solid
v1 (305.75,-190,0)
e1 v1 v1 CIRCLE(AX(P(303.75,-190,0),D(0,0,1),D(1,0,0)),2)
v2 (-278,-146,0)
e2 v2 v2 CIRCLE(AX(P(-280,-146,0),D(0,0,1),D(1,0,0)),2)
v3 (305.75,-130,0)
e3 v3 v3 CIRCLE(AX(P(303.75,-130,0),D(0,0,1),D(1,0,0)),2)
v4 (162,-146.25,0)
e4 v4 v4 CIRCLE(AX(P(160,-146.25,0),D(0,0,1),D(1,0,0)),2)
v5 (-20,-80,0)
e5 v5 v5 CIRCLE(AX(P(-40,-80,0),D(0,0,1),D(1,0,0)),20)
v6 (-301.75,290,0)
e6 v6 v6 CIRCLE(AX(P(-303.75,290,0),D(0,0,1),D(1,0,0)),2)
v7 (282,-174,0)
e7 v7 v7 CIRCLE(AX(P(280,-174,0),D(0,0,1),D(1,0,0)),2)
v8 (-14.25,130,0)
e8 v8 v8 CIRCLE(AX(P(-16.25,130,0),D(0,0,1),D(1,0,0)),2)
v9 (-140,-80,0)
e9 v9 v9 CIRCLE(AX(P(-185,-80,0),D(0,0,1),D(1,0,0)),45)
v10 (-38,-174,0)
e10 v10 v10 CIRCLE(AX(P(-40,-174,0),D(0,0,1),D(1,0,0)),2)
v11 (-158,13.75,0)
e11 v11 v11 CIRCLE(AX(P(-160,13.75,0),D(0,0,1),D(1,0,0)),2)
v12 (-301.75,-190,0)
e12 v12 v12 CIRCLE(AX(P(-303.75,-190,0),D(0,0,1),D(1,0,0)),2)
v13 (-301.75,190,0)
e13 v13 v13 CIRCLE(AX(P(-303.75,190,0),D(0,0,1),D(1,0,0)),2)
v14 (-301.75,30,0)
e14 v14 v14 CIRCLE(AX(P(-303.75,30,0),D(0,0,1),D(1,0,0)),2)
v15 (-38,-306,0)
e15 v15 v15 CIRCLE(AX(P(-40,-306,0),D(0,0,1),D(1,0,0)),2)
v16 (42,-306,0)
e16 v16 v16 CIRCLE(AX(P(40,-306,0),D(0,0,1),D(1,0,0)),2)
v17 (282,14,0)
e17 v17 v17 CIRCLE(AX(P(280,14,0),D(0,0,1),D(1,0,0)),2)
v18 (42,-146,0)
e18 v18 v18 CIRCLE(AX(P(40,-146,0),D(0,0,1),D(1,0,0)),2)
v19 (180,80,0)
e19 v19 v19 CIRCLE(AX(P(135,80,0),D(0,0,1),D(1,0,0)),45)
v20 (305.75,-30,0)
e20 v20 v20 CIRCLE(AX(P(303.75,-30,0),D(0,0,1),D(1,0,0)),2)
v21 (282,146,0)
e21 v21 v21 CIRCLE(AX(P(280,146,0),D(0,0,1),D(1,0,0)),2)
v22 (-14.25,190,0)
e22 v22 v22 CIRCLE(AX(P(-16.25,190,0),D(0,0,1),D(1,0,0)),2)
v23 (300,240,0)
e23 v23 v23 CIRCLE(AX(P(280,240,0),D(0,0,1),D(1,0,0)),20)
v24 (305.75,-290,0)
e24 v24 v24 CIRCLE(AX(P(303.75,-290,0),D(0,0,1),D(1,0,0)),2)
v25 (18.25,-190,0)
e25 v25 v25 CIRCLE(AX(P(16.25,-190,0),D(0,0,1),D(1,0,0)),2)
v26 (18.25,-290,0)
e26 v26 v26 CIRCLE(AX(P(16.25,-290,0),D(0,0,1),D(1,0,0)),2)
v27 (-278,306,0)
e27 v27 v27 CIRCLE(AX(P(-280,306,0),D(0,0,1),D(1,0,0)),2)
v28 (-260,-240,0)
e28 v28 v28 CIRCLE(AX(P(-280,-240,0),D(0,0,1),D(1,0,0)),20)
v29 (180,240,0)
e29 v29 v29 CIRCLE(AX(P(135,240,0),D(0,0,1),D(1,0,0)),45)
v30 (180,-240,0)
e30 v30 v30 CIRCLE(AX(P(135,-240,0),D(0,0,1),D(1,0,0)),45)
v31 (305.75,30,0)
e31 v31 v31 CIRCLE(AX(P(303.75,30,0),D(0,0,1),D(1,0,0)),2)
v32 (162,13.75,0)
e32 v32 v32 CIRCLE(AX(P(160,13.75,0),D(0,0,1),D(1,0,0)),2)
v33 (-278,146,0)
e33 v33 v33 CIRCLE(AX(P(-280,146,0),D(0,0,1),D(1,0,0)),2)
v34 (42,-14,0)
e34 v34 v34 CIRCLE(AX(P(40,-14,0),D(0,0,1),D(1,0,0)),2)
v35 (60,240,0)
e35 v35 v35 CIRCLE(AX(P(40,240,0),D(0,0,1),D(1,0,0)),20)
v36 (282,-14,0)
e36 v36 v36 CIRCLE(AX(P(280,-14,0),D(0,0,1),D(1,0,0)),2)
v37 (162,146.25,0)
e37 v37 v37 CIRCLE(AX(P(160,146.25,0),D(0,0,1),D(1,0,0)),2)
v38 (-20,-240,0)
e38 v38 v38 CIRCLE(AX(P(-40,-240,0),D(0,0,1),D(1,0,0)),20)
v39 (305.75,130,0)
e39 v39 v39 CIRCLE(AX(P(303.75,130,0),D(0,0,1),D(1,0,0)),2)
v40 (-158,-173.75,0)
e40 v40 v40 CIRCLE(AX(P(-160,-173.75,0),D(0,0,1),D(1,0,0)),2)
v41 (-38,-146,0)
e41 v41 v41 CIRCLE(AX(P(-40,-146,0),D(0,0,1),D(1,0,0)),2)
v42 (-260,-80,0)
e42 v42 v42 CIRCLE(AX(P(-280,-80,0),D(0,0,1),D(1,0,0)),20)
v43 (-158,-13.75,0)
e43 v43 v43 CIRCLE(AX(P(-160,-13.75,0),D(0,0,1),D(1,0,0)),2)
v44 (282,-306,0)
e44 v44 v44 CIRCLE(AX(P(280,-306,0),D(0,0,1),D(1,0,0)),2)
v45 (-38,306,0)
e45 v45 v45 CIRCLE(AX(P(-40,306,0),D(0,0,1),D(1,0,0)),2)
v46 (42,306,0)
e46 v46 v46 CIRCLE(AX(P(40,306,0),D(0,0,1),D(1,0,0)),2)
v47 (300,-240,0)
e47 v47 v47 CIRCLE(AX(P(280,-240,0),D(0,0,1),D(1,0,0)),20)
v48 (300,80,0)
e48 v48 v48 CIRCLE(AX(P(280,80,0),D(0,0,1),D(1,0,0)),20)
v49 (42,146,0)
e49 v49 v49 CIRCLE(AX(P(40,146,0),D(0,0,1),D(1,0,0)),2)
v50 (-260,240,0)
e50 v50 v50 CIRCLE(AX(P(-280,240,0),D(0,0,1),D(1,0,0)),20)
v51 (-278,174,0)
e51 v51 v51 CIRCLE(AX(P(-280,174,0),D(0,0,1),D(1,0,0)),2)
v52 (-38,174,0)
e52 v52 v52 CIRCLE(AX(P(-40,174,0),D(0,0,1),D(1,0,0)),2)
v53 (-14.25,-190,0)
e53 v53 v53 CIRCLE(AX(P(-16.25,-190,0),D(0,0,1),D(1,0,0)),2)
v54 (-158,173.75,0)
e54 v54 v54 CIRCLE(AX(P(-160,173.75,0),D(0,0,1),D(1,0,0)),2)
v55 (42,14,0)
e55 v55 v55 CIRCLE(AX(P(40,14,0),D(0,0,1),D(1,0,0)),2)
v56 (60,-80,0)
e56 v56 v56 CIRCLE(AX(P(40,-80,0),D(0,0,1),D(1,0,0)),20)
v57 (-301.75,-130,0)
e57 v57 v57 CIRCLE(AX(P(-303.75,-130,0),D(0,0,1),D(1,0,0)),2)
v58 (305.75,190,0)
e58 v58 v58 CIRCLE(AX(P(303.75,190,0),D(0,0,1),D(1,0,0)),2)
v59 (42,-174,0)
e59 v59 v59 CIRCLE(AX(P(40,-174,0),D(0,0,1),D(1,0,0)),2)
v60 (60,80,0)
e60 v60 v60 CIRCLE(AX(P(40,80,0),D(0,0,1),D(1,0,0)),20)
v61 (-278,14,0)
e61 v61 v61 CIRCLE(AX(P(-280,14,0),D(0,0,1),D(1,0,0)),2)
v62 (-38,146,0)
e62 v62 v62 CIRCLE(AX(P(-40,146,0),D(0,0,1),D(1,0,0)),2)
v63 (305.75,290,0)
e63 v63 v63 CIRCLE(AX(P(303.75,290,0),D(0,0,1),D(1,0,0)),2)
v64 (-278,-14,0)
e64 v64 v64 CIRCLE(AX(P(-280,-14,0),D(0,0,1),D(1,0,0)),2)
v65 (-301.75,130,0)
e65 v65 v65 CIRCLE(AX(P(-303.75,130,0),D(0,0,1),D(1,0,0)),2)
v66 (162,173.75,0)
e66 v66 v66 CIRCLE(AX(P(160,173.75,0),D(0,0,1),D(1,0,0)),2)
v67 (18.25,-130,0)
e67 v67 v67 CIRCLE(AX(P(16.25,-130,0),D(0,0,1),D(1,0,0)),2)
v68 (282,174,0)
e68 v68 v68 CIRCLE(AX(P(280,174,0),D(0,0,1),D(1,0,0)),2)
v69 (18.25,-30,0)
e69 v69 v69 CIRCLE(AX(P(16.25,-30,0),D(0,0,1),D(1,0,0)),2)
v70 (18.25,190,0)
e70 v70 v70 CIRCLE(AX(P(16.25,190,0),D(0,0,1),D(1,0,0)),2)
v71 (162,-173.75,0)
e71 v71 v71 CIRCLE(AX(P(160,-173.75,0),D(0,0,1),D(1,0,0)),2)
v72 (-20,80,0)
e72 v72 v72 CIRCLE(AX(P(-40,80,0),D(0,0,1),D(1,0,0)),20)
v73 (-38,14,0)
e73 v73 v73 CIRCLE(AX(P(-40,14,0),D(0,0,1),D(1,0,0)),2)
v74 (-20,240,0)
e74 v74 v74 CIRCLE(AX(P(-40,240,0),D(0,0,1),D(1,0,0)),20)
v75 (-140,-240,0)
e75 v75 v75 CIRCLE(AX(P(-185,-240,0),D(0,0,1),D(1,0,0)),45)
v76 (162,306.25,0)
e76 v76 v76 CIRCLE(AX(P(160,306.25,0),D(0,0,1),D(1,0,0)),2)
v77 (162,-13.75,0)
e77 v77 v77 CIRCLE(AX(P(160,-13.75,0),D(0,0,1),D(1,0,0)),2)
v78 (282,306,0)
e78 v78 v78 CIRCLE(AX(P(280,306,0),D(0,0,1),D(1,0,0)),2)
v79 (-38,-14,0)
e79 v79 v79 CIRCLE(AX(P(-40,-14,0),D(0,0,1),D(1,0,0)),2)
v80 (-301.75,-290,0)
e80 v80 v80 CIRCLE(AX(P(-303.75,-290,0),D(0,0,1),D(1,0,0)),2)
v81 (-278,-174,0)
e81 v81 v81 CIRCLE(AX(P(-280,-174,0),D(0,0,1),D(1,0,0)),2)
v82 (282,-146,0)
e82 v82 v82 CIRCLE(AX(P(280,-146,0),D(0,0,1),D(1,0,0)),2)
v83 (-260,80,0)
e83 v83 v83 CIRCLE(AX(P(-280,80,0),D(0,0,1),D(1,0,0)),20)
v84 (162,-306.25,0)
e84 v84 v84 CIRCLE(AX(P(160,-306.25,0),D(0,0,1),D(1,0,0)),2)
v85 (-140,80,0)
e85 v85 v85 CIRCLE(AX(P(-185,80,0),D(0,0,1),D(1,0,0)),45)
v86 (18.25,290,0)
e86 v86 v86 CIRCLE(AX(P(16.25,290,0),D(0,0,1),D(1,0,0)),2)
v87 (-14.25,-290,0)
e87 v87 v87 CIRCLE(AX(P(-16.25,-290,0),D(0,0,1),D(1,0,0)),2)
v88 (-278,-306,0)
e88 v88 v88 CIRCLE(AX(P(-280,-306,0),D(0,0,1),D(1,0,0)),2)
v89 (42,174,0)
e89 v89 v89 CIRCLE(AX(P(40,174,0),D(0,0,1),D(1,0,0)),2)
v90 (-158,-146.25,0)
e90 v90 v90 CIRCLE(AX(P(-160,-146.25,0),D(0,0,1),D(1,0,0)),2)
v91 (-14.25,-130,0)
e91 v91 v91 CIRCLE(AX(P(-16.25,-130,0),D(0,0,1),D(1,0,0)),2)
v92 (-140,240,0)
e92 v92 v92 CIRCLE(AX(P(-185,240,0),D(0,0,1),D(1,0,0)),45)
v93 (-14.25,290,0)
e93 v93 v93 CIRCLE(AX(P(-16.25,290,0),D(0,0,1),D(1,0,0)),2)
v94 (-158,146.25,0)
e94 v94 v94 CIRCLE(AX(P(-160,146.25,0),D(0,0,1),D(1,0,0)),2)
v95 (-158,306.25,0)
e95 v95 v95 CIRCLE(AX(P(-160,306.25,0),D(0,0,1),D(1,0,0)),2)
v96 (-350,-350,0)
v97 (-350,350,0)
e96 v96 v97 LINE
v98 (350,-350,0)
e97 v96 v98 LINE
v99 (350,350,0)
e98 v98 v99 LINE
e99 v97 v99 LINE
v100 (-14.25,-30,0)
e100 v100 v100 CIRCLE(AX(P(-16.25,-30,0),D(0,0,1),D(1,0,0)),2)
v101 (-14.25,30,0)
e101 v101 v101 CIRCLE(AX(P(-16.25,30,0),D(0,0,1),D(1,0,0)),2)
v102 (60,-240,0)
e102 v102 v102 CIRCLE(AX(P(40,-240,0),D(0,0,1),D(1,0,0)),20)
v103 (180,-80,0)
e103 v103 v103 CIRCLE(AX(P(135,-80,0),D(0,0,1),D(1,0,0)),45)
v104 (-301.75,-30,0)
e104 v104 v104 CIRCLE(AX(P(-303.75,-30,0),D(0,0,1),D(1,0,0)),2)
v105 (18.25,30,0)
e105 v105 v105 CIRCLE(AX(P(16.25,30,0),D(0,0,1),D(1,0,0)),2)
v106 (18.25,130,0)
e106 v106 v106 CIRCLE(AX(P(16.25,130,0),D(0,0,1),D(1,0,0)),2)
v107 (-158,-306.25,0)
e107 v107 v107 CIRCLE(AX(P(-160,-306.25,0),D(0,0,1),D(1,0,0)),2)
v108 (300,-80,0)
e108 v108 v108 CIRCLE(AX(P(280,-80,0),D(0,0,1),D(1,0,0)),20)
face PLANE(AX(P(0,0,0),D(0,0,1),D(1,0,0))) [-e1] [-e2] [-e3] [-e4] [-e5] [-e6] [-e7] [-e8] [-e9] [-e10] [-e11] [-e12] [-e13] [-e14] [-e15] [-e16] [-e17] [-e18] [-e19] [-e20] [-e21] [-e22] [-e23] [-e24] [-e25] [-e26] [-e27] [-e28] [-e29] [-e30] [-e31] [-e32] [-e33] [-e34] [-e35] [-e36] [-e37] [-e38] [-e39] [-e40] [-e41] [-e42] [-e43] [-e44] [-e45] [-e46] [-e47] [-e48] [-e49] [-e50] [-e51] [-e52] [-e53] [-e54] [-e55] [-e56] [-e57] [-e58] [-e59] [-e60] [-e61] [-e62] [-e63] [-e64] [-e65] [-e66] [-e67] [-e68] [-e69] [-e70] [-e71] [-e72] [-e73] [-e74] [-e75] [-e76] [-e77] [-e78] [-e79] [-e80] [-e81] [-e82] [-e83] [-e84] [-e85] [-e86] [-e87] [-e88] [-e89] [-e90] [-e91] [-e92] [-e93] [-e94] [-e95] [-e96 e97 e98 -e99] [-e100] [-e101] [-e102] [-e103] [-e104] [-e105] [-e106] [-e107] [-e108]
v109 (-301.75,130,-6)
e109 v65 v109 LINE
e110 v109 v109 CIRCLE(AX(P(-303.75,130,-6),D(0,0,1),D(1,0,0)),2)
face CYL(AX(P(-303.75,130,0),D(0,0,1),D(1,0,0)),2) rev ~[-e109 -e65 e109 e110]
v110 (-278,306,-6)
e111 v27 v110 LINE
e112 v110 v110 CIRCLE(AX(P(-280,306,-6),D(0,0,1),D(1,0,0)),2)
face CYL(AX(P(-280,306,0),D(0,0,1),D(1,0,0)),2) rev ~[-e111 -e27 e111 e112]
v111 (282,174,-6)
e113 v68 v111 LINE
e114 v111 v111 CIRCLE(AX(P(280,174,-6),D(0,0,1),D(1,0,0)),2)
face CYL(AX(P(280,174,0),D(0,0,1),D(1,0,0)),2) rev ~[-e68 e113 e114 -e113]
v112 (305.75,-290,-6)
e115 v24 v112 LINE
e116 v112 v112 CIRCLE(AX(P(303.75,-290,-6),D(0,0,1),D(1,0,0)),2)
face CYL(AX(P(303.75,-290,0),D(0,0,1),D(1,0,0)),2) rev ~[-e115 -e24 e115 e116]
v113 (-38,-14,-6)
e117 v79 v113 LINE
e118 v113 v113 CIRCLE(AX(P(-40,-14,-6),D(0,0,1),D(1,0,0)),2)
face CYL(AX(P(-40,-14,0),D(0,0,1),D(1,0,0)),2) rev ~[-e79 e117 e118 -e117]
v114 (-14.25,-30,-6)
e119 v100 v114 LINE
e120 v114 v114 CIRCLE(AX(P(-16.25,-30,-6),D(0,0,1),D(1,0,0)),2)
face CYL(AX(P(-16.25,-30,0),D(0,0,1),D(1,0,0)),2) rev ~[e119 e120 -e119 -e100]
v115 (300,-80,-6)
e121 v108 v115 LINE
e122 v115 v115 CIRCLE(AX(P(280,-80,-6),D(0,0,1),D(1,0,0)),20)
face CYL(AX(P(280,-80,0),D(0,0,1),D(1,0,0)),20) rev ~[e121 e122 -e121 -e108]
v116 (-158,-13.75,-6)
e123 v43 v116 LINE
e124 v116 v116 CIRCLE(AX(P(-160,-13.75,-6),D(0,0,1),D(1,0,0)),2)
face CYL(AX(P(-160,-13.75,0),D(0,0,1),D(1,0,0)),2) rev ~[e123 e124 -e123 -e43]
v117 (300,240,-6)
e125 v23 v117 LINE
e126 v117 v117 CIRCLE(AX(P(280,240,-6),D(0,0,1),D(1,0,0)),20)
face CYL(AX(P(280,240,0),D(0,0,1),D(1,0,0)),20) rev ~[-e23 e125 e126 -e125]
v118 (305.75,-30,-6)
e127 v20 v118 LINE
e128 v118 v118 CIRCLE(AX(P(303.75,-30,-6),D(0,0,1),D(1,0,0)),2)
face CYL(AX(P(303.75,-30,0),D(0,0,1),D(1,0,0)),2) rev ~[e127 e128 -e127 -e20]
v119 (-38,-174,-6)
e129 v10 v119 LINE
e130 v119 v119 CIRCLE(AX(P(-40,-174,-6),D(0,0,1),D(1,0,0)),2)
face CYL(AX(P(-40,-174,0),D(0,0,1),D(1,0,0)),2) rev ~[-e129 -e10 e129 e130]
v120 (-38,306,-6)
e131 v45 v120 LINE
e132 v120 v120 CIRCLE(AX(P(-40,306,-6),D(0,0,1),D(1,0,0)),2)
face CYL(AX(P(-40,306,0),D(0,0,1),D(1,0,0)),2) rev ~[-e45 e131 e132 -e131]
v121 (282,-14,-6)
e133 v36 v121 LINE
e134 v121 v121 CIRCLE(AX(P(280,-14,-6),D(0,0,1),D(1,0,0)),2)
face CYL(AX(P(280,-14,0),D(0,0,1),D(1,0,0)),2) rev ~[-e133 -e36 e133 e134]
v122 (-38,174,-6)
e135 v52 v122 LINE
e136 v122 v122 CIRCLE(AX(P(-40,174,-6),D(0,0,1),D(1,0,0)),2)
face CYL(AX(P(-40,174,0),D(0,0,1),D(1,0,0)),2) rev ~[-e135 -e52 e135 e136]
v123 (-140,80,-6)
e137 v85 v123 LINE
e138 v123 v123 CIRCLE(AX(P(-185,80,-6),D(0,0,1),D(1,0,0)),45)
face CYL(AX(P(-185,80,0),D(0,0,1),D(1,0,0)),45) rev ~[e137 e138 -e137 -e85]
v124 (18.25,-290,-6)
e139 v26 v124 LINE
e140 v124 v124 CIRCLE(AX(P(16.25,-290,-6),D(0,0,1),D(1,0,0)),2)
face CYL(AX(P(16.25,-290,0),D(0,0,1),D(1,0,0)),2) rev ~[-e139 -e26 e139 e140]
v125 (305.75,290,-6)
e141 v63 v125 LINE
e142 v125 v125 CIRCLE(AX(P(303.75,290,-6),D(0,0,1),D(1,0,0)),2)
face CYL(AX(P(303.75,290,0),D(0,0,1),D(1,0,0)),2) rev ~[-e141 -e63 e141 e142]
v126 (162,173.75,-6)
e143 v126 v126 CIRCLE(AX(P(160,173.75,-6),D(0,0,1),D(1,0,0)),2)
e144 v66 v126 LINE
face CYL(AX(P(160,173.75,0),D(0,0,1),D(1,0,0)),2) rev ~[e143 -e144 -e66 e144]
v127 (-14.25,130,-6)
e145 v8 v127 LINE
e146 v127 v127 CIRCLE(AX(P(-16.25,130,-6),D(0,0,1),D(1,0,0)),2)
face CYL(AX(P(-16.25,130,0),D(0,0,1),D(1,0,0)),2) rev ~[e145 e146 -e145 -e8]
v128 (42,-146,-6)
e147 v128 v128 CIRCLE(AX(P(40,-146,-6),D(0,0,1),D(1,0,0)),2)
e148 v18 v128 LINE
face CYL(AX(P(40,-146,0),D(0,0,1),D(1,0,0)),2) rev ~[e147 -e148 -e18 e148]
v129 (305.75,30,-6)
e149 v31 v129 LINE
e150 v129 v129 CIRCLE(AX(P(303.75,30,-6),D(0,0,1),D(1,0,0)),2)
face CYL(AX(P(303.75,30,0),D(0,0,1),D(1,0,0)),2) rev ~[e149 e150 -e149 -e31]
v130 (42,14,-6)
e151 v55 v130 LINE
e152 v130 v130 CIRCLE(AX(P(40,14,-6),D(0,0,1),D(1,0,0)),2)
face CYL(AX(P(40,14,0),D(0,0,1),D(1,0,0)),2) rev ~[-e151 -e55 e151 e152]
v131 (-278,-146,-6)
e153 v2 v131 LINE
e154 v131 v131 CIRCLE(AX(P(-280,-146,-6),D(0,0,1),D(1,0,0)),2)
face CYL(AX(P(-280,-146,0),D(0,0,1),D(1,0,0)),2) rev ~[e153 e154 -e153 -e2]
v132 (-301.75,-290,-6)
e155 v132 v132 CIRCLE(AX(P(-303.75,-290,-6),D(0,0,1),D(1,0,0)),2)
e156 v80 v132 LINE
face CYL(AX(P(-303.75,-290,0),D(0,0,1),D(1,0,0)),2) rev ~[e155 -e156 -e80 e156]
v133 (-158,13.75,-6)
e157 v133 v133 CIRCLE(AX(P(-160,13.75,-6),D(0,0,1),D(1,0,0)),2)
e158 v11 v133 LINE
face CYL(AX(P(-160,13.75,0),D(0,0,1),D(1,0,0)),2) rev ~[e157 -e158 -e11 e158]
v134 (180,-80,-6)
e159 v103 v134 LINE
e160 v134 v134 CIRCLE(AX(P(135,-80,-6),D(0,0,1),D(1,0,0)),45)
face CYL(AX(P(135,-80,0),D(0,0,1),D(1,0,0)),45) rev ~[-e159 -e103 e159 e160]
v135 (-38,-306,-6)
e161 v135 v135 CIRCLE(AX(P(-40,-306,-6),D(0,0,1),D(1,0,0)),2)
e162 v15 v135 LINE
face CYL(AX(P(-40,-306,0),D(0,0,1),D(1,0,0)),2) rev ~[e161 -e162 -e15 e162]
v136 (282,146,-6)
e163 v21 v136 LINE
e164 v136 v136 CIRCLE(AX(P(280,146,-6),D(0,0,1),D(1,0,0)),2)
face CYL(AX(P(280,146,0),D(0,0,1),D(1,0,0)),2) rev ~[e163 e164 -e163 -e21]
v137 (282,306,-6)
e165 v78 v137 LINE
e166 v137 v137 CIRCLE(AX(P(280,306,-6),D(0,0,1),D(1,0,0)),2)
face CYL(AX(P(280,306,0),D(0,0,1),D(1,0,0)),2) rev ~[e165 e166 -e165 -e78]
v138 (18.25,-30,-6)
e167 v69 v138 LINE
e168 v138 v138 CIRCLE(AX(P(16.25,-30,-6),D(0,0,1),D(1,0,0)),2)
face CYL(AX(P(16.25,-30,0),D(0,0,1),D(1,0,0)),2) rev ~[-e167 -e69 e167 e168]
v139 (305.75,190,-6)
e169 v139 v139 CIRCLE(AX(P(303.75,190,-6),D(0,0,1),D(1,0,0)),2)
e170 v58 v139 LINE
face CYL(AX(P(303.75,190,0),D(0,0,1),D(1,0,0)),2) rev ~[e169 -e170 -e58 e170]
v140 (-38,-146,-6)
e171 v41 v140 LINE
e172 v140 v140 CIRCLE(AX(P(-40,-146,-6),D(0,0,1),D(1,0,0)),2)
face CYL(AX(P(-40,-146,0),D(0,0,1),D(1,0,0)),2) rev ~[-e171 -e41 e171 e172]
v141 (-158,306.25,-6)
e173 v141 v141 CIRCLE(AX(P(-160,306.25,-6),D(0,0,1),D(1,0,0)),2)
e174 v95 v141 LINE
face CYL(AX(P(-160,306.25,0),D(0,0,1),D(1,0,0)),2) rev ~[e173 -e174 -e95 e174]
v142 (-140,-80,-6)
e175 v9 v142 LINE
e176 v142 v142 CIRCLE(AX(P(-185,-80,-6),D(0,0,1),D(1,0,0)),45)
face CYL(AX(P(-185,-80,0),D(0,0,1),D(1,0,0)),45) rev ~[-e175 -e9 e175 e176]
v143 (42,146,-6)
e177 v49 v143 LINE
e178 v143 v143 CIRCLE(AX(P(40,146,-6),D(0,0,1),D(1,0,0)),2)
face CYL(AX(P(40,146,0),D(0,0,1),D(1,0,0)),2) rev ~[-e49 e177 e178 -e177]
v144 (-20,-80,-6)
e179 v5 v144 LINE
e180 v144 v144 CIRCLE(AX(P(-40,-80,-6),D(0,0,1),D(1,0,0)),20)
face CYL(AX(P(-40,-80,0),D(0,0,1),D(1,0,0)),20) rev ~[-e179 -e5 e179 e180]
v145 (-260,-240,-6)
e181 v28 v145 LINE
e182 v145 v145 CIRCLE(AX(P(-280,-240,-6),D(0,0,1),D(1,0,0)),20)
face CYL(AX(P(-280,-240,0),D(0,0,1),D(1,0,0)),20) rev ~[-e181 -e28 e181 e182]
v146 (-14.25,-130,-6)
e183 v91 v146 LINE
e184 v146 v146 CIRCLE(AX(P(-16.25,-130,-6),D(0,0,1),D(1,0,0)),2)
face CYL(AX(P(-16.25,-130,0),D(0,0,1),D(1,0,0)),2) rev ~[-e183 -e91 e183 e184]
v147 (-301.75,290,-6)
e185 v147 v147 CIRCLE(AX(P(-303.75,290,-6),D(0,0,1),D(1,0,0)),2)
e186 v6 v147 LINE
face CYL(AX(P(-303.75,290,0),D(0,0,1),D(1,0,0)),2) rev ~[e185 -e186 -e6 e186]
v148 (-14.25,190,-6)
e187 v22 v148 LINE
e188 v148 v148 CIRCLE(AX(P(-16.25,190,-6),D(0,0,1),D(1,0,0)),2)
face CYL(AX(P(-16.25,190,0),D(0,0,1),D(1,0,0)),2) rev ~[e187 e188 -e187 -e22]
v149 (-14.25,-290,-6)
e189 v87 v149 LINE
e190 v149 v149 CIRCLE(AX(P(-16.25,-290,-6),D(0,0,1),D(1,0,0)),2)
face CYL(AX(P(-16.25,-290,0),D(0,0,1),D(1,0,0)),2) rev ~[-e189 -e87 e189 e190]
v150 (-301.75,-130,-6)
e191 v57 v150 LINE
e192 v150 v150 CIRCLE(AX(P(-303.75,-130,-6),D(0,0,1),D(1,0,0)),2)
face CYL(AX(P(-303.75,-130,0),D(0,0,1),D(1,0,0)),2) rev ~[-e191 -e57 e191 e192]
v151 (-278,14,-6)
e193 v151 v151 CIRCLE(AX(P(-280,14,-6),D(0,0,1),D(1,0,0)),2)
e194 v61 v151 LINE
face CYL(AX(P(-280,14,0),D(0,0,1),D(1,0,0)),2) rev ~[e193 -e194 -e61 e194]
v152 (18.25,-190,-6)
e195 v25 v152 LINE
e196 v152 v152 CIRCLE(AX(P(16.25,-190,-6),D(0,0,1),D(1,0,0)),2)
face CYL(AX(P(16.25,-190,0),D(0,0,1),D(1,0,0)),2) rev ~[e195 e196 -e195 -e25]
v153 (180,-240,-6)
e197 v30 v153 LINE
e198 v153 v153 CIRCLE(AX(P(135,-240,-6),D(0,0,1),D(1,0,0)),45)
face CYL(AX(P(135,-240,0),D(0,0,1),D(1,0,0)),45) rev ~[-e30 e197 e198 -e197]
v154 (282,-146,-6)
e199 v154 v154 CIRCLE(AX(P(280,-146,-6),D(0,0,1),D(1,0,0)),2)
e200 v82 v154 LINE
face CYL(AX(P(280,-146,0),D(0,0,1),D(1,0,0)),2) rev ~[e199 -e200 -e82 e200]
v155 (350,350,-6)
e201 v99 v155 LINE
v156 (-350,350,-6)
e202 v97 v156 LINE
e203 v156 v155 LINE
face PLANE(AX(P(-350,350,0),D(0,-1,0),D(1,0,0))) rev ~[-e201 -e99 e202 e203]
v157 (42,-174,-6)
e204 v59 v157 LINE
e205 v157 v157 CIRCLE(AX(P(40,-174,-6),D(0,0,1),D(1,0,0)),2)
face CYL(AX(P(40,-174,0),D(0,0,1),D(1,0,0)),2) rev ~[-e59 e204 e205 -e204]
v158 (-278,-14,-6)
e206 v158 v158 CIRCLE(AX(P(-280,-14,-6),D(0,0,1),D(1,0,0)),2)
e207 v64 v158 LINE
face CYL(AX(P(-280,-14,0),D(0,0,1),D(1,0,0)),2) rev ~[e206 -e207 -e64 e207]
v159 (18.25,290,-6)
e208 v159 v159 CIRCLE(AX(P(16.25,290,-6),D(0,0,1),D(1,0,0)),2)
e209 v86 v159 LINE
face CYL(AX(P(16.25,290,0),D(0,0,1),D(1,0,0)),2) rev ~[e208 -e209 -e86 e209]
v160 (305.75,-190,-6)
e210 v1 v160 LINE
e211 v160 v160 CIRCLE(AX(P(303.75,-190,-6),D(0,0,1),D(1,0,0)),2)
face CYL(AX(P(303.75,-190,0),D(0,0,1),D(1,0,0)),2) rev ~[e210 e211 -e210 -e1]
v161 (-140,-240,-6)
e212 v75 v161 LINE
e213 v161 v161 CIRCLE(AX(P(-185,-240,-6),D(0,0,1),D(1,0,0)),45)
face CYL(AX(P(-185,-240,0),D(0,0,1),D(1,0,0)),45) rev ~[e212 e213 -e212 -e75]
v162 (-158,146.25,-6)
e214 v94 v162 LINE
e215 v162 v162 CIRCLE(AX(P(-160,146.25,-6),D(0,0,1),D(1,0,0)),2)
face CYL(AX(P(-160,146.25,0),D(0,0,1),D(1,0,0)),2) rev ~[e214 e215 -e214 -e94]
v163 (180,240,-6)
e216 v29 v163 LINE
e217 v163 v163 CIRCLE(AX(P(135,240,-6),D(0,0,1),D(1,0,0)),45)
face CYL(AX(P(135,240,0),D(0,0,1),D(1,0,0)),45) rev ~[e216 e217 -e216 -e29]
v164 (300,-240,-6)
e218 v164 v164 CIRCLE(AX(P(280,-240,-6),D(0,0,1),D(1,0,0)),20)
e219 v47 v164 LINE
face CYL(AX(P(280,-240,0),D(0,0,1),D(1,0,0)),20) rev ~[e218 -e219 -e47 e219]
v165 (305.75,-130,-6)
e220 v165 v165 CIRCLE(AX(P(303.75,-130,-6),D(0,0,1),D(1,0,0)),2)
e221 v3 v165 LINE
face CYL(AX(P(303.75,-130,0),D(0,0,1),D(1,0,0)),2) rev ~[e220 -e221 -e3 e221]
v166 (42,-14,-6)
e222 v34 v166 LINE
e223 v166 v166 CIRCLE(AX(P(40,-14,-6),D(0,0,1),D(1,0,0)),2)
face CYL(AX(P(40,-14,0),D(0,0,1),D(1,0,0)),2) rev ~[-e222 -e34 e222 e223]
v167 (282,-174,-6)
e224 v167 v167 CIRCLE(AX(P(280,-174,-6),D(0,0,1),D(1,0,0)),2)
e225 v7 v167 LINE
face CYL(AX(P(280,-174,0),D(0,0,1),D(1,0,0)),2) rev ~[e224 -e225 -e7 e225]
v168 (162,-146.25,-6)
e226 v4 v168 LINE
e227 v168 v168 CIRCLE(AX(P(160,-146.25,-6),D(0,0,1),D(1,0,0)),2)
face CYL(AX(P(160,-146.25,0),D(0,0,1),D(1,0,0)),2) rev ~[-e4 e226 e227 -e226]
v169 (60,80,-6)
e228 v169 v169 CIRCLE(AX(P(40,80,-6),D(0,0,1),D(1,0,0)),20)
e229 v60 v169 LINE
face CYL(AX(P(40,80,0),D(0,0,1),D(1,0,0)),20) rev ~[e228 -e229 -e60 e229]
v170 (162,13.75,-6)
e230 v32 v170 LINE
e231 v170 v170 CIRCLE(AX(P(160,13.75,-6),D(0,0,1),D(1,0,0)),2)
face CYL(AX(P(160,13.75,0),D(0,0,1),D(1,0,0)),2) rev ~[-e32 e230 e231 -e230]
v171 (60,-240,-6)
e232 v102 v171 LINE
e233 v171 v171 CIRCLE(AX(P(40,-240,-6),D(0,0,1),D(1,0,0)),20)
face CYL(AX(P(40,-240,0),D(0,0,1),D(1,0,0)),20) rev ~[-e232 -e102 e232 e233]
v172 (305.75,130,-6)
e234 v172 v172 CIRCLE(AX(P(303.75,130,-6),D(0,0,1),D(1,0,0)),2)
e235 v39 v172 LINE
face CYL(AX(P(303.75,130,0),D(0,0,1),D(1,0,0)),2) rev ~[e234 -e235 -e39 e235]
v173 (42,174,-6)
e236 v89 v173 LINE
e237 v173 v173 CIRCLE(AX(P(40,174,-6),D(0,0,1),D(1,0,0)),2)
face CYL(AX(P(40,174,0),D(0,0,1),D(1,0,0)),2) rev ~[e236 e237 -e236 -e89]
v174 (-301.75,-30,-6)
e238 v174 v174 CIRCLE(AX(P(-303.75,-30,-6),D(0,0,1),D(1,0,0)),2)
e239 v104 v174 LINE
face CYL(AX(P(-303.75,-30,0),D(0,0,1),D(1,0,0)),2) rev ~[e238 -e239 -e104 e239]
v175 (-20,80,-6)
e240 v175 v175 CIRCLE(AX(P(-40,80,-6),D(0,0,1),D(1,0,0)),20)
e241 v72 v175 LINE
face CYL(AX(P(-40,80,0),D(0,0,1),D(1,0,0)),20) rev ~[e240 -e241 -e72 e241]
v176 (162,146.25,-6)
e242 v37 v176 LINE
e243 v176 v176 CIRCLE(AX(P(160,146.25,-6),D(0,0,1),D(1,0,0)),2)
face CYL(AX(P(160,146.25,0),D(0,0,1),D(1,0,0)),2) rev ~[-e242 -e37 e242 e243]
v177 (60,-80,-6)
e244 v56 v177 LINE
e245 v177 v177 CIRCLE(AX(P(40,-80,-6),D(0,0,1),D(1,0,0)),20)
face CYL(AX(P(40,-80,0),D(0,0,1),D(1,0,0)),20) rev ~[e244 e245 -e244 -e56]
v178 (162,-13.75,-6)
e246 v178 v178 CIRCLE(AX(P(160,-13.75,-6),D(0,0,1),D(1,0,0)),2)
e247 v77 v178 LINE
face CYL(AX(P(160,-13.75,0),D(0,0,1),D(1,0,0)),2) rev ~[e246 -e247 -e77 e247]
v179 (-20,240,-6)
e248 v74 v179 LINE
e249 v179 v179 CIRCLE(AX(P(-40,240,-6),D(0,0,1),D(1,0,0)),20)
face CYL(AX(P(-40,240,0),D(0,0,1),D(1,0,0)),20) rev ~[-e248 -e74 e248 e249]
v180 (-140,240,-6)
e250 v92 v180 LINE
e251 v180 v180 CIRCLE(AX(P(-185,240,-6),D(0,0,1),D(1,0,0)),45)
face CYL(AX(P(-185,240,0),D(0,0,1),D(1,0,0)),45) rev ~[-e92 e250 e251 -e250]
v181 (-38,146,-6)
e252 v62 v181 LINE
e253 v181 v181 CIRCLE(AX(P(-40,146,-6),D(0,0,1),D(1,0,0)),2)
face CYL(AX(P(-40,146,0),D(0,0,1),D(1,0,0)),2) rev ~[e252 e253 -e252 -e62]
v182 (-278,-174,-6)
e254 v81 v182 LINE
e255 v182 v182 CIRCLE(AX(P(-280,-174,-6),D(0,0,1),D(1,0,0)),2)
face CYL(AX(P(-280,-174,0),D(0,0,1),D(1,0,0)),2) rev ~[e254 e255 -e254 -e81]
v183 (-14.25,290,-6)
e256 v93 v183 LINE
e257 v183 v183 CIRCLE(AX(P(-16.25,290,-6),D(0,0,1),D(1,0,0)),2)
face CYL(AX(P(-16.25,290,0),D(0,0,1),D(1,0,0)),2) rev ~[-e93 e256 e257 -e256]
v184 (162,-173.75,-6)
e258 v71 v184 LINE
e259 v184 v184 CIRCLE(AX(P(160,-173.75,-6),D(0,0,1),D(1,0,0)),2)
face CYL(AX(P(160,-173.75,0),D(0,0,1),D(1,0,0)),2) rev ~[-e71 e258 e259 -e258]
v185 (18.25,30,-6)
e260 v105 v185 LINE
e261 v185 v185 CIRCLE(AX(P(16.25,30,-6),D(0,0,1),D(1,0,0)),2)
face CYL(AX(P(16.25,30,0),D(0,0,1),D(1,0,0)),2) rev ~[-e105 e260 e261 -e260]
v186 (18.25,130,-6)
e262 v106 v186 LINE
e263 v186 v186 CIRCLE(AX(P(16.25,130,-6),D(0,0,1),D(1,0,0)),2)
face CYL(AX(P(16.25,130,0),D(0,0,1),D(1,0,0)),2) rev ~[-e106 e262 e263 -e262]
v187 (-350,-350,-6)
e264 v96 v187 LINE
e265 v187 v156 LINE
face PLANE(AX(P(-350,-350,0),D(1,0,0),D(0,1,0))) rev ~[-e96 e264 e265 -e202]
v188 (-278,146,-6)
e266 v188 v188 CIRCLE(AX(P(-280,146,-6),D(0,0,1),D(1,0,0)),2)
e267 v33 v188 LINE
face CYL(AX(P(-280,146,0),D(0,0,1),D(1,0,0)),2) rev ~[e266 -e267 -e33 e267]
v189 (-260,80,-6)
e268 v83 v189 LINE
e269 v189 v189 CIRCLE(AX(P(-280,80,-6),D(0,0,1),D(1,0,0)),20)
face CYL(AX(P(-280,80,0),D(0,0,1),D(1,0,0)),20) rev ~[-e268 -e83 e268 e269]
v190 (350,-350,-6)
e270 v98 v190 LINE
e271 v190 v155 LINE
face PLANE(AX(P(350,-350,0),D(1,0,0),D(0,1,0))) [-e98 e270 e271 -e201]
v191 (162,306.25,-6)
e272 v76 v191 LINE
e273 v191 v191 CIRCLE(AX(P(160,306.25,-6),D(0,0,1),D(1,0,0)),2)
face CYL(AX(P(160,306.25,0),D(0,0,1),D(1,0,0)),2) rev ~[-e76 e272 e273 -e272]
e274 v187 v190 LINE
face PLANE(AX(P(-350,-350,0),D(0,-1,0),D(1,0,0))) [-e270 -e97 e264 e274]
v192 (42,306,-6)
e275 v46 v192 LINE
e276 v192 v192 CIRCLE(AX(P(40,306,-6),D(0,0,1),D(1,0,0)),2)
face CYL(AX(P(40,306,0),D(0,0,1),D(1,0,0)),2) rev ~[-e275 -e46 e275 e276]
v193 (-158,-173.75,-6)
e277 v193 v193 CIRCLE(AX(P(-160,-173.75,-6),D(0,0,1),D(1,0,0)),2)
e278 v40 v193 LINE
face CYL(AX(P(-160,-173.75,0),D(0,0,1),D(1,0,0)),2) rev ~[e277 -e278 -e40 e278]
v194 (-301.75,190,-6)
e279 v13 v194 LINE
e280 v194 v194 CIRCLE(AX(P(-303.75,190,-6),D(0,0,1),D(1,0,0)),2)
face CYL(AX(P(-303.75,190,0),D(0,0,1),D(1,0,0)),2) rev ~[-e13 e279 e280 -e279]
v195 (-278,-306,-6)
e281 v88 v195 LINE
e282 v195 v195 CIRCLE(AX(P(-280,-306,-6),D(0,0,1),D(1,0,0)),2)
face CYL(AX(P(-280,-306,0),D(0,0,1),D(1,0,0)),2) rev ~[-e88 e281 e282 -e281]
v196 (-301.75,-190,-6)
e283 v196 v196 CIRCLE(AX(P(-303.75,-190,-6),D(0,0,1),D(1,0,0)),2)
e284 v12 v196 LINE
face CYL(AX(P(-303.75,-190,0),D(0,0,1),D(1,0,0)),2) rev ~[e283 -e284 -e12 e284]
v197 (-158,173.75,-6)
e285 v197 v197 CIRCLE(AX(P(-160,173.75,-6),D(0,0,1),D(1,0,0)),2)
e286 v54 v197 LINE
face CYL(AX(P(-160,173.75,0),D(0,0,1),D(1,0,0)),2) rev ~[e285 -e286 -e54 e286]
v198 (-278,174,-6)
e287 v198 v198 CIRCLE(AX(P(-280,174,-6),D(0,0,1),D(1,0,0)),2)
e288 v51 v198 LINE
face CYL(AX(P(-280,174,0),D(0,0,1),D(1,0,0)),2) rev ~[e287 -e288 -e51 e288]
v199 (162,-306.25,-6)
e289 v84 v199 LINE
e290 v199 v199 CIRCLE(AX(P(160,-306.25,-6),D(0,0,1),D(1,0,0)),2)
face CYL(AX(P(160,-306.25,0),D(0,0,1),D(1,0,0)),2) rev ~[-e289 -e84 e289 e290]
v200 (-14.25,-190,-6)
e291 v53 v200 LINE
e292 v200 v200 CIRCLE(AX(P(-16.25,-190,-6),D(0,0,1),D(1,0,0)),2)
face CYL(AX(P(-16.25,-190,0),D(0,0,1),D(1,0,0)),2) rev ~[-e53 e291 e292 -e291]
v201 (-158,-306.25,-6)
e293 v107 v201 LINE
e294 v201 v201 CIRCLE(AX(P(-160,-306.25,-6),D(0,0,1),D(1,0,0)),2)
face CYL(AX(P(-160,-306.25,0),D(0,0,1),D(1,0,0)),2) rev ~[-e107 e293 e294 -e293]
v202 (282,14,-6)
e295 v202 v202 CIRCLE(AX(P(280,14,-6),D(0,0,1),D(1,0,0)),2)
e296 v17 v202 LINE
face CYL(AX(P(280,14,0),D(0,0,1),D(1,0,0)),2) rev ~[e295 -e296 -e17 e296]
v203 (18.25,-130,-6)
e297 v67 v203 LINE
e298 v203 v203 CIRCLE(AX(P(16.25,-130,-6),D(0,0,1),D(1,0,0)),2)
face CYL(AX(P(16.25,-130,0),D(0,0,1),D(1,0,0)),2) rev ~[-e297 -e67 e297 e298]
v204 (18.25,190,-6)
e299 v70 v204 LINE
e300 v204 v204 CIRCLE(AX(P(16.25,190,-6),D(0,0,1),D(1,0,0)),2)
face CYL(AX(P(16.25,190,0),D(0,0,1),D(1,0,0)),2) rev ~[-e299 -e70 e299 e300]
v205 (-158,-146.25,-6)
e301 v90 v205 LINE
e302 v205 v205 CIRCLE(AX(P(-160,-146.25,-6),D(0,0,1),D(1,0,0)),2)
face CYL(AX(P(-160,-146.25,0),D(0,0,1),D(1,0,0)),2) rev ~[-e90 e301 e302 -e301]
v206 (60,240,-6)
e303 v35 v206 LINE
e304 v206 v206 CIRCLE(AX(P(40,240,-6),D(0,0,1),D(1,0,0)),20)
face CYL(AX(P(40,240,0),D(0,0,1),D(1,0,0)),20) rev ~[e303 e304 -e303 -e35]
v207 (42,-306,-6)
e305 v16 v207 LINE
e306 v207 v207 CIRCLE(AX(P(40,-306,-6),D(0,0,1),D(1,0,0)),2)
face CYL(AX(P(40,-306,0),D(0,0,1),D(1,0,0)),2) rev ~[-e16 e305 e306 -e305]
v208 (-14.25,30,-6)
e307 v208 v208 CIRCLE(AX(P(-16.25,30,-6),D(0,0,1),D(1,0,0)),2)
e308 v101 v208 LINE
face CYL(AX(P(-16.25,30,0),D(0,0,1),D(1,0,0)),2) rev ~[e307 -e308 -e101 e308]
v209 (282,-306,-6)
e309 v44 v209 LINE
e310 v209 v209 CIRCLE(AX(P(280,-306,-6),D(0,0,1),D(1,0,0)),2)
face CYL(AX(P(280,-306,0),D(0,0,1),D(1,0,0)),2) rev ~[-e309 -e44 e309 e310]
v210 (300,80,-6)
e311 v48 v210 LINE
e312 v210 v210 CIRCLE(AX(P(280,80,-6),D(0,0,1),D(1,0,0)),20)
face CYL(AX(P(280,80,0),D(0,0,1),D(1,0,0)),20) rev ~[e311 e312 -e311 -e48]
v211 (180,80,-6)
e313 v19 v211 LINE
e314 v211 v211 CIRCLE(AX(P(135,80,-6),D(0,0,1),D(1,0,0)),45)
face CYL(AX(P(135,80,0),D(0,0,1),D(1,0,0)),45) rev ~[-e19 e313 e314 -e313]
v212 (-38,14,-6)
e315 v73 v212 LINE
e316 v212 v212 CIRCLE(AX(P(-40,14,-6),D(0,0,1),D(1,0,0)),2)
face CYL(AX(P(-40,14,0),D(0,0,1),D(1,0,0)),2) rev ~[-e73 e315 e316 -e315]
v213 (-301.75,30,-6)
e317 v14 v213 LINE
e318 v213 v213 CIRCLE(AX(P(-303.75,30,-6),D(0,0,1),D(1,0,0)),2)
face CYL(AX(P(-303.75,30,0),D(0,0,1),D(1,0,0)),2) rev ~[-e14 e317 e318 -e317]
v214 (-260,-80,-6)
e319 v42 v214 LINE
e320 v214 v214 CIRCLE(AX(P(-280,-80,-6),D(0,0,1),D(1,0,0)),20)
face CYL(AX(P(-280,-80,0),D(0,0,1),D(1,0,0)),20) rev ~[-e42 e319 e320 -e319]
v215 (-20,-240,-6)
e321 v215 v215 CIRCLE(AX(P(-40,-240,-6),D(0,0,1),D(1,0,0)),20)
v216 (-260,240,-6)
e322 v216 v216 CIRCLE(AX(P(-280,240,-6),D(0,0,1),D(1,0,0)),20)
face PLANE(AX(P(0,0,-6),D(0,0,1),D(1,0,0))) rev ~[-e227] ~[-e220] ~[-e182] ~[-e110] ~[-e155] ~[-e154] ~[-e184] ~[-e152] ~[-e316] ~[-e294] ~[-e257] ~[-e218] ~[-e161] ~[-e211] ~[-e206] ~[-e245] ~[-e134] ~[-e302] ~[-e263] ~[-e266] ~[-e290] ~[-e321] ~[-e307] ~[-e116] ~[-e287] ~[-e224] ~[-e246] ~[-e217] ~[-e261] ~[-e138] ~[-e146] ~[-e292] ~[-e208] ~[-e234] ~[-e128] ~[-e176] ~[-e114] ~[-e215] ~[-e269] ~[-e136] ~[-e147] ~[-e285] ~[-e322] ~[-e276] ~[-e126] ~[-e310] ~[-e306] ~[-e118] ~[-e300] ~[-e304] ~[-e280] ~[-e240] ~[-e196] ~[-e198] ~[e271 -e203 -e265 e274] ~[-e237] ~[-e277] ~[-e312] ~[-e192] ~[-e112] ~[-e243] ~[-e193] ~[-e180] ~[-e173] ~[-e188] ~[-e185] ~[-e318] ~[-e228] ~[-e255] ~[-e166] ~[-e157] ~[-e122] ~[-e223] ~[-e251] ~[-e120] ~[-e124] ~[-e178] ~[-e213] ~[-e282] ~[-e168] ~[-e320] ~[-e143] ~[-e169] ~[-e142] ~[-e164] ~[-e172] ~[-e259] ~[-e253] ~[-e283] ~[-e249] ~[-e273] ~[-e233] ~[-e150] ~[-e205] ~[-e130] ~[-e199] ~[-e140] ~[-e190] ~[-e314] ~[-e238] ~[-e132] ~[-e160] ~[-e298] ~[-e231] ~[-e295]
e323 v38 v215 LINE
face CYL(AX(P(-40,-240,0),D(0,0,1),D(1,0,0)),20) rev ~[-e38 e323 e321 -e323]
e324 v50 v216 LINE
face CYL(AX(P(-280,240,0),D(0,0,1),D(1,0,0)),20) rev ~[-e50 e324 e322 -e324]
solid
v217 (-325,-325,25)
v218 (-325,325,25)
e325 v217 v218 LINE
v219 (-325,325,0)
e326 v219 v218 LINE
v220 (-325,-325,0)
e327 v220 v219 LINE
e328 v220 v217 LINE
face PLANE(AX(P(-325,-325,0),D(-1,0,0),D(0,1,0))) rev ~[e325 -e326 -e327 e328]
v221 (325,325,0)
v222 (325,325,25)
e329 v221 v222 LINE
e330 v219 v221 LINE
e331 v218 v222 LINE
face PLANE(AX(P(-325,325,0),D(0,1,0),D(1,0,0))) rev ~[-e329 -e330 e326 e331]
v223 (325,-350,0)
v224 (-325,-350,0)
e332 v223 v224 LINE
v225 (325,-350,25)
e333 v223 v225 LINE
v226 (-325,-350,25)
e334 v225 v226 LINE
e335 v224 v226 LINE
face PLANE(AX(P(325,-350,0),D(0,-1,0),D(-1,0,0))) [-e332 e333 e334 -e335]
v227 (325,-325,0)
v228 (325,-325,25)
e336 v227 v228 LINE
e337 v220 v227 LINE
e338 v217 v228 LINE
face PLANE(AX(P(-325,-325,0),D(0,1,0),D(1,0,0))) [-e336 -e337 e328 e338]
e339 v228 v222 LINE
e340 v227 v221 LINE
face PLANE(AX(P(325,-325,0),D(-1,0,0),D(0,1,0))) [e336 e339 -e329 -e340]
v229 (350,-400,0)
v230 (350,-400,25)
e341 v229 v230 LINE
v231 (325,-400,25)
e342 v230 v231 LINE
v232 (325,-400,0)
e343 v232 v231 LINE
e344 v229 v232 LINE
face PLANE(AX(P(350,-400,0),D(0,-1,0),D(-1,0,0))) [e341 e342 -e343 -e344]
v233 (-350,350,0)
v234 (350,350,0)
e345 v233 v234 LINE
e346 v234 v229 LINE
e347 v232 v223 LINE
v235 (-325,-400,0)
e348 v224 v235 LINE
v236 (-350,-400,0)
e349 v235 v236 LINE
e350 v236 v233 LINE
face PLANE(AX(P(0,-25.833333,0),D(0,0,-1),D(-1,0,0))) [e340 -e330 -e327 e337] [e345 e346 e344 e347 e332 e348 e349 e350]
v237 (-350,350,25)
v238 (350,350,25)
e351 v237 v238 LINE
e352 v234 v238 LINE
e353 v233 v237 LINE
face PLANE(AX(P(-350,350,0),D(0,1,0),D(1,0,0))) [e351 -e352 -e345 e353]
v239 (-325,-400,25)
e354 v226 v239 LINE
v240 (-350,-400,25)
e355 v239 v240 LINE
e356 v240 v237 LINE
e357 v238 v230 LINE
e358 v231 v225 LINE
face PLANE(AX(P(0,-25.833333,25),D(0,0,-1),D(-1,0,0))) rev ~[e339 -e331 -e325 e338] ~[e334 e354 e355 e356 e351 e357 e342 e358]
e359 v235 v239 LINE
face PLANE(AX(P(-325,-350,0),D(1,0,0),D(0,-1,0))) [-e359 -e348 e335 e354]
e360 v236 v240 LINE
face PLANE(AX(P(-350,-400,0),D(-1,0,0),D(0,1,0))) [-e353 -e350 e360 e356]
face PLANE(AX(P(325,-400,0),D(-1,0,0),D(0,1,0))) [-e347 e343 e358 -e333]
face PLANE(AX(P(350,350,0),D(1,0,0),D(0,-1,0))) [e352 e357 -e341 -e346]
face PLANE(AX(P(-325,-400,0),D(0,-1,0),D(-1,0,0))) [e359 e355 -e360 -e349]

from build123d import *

# Parameters (mm, degrees)
SKETCH8_W           = 700
SKETCH8_H           = 700
BOSS_EXTRUDE7_DEPTH = 6
SKETCH5_W           = 650
SKETCH5_H           = 650
BOSS_EXTRUDE8_DEPTH = 25
SKETCH4_R           = 2
SKETCH4_R_2         = 20
SKETCH4_R_3         = 45
CUT_EXTRUDE1_DEPTH  = 533.094916345


with BuildPart() as part:
    # Sketch8 → Boss-Extrude7 (new body)
    with BuildSketch(Plane.XY):
        Rectangle(SKETCH8_W, SKETCH8_H)
    extrude(amount=-BOSS_EXTRUDE7_DEPTH)

    # Sketch4 → Cut-Extrude1 (cut, through all)
    with BuildSketch(Plane.XY):
        with Locations((-303.75, 290)):
            Circle(SKETCH4_R)
        with Locations((-303.75, 190)):
            Circle(SKETCH4_R)
        with Locations((-160, 306.25)):
            Circle(SKETCH4_R)
        with Locations((-16.25, 290)):
            Circle(SKETCH4_R)
        with Locations((-160, 173.75)):
            Circle(SKETCH4_R)
        with Locations((-16.25, 190)):
            Circle(SKETCH4_R)
        with Locations((-280, 174)):
            Circle(SKETCH4_R)
        with Locations((-280, 306)):
            Circle(SKETCH4_R)
        with Locations((-40, 306)):
            Circle(SKETCH4_R)
        with Locations((-40, 174)):
            Circle(SKETCH4_R)
        with Locations((40, 174)):
            Circle(SKETCH4_R)
        with Locations((16.25, 190)):
            Circle(SKETCH4_R)
        with Locations((40, 240)):
            Circle(SKETCH4_R_2)
        with Locations((16.25, 290)):
            Circle(SKETCH4_R)
        with Locations((40, 306)):
            Circle(SKETCH4_R)
        with Locations((135, 240)):
            Circle(SKETCH4_R_3)
        with Locations((160, 306.25)):
            Circle(SKETCH4_R)
        with Locations((160, 173.75)):
            Circle(SKETCH4_R)
        with Locations((280, 174)):
            Circle(SKETCH4_R)
        with Locations((303.75, 190)):
            Circle(SKETCH4_R)
        with Locations((280, 240)):
            Circle(SKETCH4_R_2)
        with Locations((280, 306)):
            Circle(SKETCH4_R)
        with Locations((303.75, 290)):
            Circle(SKETCH4_R)
        with Locations((40, 14)):
            Circle(SKETCH4_R)
        with Locations((16.25, 30)):
            Circle(SKETCH4_R)
        with Locations((40, 80)):
            Circle(SKETCH4_R_2)
        with Locations((16.25, 130)):
            Circle(SKETCH4_R)
        with Locations((40, 146)):
            Circle(SKETCH4_R)
        with Locations((135, 80)):
            Circle(SKETCH4_R_3)
        with Locations((160, 146.25)):
            Circle(SKETCH4_R)
        with Locations((160, 13.75)):
            Circle(SKETCH4_R)
        with Locations((280, 14)):
            Circle(SKETCH4_R)
        with Locations((303.75, 30)):
            Circle(SKETCH4_R)
        with Locations((280, 80)):
            Circle(SKETCH4_R_2)
        with Locations((280, 146)):
            Circle(SKETCH4_R)
        with Locations((303.75, 130)):
            Circle(SKETCH4_R)
        with Locations((40, -146)):
            Circle(SKETCH4_R)
        with Locations((16.25, -130)):
            Circle(SKETCH4_R)
        with Locations((40, -80)):
            Circle(SKETCH4_R_2)
        with Locations((16.25, -30)):
            Circle(SKETCH4_R)
        with Locations((40, -14)):
            Circle(SKETCH4_R)
        with Locations((135, -80)):
            Circle(SKETCH4_R_3)
        with Locations((160, -13.75)):
            Circle(SKETCH4_R)
        with Locations((160, -146.25)):
            Circle(SKETCH4_R)
        with Locations((280, -146)):
            Circle(SKETCH4_R)
        with Locations((303.75, -130)):
            Circle(SKETCH4_R)
        with Locations((280, -80)):
            Circle(SKETCH4_R_2)
        with Locations((280, -14)):
            Circle(SKETCH4_R)
        with Locations((-280, 240)):
            Circle(SKETCH4_R_2)
        with Locations((-185, 240)):
            Circle(SKETCH4_R_3)
        with Locations((-40, 240)):
            Circle(SKETCH4_R_2)
        with Locations((303.75, -30)):
            Circle(SKETCH4_R)
        with Locations((40, -306)):
            Circle(SKETCH4_R)
        with Locations((16.25, -290)):
            Circle(SKETCH4_R)
        with Locations((40, -240)):
            Circle(SKETCH4_R_2)
        with Locations((16.25, -190)):
            Circle(SKETCH4_R)
        with Locations((40, -174)):
            Circle(SKETCH4_R)
        with Locations((135, -240)):
            Circle(SKETCH4_R_3)
        with Locations((160, -173.75)):
            Circle(SKETCH4_R)
        with Locations((160, -306.25)):
            Circle(SKETCH4_R)
        with Locations((280, -306)):
            Circle(SKETCH4_R)
        with Locations((303.75, -290)):
            Circle(SKETCH4_R)
        with Locations((280, -240)):
            Circle(SKETCH4_R_2)
        with Locations((280, -174)):
            Circle(SKETCH4_R)
        with Locations((303.75, -190)):
            Circle(SKETCH4_R)
        with Locations((-280, 14)):
            Circle(SKETCH4_R)
        with Locations((-303.75, 30)):
            Circle(SKETCH4_R)
        with Locations((-280, 80)):
            Circle(SKETCH4_R_2)
        with Locations((-303.75, 130)):
            Circle(SKETCH4_R)
        with Locations((-280, 146)):
            Circle(SKETCH4_R)
        with Locations((-185, 80)):
            Circle(SKETCH4_R_3)
        with Locations((-160, 146.25)):
            Circle(SKETCH4_R)
        with Locations((-160, 13.75)):
            Circle(SKETCH4_R)
        with Locations((-40, 14)):
            Circle(SKETCH4_R)
        with Locations((-16.25, 30)):
            Circle(SKETCH4_R)
        with Locations((-40, 80)):
            Circle(SKETCH4_R_2)
        with Locations((-40, 146)):
            Circle(SKETCH4_R)
        with Locations((-16.25, 130)):
            Circle(SKETCH4_R)
        with Locations((-280, -146)):
            Circle(SKETCH4_R)
        with Locations((-303.75, -130)):
            Circle(SKETCH4_R)
        with Locations((-280, -80)):
            Circle(SKETCH4_R_2)
        with Locations((-303.75, -30)):
            Circle(SKETCH4_R)
        with Locations((-280, -14)):
            Circle(SKETCH4_R)
        with Locations((-185, -80)):
            Circle(SKETCH4_R_3)
        with Locations((-160, -13.75)):
            Circle(SKETCH4_R)
        with Locations((-160, -146.25)):
            Circle(SKETCH4_R)
        with Locations((-40, -146)):
            Circle(SKETCH4_R)
        with Locations((-16.25, -130)):
            Circle(SKETCH4_R)
        with Locations((-40, -80)):
            Circle(SKETCH4_R_2)
        with Locations((-40, -14)):
            Circle(SKETCH4_R)
        with Locations((-16.25, -30)):
            Circle(SKETCH4_R)
        with Locations((-280, -306)):
            Circle(SKETCH4_R)
        with Locations((-303.75, -290)):
            Circle(SKETCH4_R)
        with Locations((-280, -240)):
            Circle(SKETCH4_R_2)
        with Locations((-303.75, -190)):
            Circle(SKETCH4_R)
        with Locations((-280, -174)):
            Circle(SKETCH4_R)
        with Locations((-185, -240)):
            Circle(SKETCH4_R_3)
        with Locations((-160, -173.75)):
            Circle(SKETCH4_R)
        with Locations((-160, -306.25)):
            Circle(SKETCH4_R)
        with Locations((-40, -306)):
            Circle(SKETCH4_R)
        with Locations((-16.25, -290)):
            Circle(SKETCH4_R)
        with Locations((-40, -240)):
            Circle(SKETCH4_R_2)
        with Locations((-40, -174)):
            Circle(SKETCH4_R)
        with Locations((-16.25, -190)):
            Circle(SKETCH4_R)
    extrude(amount=-CUT_EXTRUDE1_DEPTH, mode=Mode.SUBTRACT)


with BuildPart() as body_2:
    # Sketch5 → Boss-Extrude8 (new body)
    with BuildSketch(Plane.XY):
        Polygon((-350, 350), (350, 350), (350, -400), (325, -400), (325, -350), (-325, -350), (-325, -400), (-350, -400), align=None)
        Rectangle(SKETCH5_W, SKETCH5_H, mode=Mode.SUBTRACT)
    extrude(amount=BOSS_EXTRUDE8_DEPTH)


solid = Compound([part.part, body_2.part])
